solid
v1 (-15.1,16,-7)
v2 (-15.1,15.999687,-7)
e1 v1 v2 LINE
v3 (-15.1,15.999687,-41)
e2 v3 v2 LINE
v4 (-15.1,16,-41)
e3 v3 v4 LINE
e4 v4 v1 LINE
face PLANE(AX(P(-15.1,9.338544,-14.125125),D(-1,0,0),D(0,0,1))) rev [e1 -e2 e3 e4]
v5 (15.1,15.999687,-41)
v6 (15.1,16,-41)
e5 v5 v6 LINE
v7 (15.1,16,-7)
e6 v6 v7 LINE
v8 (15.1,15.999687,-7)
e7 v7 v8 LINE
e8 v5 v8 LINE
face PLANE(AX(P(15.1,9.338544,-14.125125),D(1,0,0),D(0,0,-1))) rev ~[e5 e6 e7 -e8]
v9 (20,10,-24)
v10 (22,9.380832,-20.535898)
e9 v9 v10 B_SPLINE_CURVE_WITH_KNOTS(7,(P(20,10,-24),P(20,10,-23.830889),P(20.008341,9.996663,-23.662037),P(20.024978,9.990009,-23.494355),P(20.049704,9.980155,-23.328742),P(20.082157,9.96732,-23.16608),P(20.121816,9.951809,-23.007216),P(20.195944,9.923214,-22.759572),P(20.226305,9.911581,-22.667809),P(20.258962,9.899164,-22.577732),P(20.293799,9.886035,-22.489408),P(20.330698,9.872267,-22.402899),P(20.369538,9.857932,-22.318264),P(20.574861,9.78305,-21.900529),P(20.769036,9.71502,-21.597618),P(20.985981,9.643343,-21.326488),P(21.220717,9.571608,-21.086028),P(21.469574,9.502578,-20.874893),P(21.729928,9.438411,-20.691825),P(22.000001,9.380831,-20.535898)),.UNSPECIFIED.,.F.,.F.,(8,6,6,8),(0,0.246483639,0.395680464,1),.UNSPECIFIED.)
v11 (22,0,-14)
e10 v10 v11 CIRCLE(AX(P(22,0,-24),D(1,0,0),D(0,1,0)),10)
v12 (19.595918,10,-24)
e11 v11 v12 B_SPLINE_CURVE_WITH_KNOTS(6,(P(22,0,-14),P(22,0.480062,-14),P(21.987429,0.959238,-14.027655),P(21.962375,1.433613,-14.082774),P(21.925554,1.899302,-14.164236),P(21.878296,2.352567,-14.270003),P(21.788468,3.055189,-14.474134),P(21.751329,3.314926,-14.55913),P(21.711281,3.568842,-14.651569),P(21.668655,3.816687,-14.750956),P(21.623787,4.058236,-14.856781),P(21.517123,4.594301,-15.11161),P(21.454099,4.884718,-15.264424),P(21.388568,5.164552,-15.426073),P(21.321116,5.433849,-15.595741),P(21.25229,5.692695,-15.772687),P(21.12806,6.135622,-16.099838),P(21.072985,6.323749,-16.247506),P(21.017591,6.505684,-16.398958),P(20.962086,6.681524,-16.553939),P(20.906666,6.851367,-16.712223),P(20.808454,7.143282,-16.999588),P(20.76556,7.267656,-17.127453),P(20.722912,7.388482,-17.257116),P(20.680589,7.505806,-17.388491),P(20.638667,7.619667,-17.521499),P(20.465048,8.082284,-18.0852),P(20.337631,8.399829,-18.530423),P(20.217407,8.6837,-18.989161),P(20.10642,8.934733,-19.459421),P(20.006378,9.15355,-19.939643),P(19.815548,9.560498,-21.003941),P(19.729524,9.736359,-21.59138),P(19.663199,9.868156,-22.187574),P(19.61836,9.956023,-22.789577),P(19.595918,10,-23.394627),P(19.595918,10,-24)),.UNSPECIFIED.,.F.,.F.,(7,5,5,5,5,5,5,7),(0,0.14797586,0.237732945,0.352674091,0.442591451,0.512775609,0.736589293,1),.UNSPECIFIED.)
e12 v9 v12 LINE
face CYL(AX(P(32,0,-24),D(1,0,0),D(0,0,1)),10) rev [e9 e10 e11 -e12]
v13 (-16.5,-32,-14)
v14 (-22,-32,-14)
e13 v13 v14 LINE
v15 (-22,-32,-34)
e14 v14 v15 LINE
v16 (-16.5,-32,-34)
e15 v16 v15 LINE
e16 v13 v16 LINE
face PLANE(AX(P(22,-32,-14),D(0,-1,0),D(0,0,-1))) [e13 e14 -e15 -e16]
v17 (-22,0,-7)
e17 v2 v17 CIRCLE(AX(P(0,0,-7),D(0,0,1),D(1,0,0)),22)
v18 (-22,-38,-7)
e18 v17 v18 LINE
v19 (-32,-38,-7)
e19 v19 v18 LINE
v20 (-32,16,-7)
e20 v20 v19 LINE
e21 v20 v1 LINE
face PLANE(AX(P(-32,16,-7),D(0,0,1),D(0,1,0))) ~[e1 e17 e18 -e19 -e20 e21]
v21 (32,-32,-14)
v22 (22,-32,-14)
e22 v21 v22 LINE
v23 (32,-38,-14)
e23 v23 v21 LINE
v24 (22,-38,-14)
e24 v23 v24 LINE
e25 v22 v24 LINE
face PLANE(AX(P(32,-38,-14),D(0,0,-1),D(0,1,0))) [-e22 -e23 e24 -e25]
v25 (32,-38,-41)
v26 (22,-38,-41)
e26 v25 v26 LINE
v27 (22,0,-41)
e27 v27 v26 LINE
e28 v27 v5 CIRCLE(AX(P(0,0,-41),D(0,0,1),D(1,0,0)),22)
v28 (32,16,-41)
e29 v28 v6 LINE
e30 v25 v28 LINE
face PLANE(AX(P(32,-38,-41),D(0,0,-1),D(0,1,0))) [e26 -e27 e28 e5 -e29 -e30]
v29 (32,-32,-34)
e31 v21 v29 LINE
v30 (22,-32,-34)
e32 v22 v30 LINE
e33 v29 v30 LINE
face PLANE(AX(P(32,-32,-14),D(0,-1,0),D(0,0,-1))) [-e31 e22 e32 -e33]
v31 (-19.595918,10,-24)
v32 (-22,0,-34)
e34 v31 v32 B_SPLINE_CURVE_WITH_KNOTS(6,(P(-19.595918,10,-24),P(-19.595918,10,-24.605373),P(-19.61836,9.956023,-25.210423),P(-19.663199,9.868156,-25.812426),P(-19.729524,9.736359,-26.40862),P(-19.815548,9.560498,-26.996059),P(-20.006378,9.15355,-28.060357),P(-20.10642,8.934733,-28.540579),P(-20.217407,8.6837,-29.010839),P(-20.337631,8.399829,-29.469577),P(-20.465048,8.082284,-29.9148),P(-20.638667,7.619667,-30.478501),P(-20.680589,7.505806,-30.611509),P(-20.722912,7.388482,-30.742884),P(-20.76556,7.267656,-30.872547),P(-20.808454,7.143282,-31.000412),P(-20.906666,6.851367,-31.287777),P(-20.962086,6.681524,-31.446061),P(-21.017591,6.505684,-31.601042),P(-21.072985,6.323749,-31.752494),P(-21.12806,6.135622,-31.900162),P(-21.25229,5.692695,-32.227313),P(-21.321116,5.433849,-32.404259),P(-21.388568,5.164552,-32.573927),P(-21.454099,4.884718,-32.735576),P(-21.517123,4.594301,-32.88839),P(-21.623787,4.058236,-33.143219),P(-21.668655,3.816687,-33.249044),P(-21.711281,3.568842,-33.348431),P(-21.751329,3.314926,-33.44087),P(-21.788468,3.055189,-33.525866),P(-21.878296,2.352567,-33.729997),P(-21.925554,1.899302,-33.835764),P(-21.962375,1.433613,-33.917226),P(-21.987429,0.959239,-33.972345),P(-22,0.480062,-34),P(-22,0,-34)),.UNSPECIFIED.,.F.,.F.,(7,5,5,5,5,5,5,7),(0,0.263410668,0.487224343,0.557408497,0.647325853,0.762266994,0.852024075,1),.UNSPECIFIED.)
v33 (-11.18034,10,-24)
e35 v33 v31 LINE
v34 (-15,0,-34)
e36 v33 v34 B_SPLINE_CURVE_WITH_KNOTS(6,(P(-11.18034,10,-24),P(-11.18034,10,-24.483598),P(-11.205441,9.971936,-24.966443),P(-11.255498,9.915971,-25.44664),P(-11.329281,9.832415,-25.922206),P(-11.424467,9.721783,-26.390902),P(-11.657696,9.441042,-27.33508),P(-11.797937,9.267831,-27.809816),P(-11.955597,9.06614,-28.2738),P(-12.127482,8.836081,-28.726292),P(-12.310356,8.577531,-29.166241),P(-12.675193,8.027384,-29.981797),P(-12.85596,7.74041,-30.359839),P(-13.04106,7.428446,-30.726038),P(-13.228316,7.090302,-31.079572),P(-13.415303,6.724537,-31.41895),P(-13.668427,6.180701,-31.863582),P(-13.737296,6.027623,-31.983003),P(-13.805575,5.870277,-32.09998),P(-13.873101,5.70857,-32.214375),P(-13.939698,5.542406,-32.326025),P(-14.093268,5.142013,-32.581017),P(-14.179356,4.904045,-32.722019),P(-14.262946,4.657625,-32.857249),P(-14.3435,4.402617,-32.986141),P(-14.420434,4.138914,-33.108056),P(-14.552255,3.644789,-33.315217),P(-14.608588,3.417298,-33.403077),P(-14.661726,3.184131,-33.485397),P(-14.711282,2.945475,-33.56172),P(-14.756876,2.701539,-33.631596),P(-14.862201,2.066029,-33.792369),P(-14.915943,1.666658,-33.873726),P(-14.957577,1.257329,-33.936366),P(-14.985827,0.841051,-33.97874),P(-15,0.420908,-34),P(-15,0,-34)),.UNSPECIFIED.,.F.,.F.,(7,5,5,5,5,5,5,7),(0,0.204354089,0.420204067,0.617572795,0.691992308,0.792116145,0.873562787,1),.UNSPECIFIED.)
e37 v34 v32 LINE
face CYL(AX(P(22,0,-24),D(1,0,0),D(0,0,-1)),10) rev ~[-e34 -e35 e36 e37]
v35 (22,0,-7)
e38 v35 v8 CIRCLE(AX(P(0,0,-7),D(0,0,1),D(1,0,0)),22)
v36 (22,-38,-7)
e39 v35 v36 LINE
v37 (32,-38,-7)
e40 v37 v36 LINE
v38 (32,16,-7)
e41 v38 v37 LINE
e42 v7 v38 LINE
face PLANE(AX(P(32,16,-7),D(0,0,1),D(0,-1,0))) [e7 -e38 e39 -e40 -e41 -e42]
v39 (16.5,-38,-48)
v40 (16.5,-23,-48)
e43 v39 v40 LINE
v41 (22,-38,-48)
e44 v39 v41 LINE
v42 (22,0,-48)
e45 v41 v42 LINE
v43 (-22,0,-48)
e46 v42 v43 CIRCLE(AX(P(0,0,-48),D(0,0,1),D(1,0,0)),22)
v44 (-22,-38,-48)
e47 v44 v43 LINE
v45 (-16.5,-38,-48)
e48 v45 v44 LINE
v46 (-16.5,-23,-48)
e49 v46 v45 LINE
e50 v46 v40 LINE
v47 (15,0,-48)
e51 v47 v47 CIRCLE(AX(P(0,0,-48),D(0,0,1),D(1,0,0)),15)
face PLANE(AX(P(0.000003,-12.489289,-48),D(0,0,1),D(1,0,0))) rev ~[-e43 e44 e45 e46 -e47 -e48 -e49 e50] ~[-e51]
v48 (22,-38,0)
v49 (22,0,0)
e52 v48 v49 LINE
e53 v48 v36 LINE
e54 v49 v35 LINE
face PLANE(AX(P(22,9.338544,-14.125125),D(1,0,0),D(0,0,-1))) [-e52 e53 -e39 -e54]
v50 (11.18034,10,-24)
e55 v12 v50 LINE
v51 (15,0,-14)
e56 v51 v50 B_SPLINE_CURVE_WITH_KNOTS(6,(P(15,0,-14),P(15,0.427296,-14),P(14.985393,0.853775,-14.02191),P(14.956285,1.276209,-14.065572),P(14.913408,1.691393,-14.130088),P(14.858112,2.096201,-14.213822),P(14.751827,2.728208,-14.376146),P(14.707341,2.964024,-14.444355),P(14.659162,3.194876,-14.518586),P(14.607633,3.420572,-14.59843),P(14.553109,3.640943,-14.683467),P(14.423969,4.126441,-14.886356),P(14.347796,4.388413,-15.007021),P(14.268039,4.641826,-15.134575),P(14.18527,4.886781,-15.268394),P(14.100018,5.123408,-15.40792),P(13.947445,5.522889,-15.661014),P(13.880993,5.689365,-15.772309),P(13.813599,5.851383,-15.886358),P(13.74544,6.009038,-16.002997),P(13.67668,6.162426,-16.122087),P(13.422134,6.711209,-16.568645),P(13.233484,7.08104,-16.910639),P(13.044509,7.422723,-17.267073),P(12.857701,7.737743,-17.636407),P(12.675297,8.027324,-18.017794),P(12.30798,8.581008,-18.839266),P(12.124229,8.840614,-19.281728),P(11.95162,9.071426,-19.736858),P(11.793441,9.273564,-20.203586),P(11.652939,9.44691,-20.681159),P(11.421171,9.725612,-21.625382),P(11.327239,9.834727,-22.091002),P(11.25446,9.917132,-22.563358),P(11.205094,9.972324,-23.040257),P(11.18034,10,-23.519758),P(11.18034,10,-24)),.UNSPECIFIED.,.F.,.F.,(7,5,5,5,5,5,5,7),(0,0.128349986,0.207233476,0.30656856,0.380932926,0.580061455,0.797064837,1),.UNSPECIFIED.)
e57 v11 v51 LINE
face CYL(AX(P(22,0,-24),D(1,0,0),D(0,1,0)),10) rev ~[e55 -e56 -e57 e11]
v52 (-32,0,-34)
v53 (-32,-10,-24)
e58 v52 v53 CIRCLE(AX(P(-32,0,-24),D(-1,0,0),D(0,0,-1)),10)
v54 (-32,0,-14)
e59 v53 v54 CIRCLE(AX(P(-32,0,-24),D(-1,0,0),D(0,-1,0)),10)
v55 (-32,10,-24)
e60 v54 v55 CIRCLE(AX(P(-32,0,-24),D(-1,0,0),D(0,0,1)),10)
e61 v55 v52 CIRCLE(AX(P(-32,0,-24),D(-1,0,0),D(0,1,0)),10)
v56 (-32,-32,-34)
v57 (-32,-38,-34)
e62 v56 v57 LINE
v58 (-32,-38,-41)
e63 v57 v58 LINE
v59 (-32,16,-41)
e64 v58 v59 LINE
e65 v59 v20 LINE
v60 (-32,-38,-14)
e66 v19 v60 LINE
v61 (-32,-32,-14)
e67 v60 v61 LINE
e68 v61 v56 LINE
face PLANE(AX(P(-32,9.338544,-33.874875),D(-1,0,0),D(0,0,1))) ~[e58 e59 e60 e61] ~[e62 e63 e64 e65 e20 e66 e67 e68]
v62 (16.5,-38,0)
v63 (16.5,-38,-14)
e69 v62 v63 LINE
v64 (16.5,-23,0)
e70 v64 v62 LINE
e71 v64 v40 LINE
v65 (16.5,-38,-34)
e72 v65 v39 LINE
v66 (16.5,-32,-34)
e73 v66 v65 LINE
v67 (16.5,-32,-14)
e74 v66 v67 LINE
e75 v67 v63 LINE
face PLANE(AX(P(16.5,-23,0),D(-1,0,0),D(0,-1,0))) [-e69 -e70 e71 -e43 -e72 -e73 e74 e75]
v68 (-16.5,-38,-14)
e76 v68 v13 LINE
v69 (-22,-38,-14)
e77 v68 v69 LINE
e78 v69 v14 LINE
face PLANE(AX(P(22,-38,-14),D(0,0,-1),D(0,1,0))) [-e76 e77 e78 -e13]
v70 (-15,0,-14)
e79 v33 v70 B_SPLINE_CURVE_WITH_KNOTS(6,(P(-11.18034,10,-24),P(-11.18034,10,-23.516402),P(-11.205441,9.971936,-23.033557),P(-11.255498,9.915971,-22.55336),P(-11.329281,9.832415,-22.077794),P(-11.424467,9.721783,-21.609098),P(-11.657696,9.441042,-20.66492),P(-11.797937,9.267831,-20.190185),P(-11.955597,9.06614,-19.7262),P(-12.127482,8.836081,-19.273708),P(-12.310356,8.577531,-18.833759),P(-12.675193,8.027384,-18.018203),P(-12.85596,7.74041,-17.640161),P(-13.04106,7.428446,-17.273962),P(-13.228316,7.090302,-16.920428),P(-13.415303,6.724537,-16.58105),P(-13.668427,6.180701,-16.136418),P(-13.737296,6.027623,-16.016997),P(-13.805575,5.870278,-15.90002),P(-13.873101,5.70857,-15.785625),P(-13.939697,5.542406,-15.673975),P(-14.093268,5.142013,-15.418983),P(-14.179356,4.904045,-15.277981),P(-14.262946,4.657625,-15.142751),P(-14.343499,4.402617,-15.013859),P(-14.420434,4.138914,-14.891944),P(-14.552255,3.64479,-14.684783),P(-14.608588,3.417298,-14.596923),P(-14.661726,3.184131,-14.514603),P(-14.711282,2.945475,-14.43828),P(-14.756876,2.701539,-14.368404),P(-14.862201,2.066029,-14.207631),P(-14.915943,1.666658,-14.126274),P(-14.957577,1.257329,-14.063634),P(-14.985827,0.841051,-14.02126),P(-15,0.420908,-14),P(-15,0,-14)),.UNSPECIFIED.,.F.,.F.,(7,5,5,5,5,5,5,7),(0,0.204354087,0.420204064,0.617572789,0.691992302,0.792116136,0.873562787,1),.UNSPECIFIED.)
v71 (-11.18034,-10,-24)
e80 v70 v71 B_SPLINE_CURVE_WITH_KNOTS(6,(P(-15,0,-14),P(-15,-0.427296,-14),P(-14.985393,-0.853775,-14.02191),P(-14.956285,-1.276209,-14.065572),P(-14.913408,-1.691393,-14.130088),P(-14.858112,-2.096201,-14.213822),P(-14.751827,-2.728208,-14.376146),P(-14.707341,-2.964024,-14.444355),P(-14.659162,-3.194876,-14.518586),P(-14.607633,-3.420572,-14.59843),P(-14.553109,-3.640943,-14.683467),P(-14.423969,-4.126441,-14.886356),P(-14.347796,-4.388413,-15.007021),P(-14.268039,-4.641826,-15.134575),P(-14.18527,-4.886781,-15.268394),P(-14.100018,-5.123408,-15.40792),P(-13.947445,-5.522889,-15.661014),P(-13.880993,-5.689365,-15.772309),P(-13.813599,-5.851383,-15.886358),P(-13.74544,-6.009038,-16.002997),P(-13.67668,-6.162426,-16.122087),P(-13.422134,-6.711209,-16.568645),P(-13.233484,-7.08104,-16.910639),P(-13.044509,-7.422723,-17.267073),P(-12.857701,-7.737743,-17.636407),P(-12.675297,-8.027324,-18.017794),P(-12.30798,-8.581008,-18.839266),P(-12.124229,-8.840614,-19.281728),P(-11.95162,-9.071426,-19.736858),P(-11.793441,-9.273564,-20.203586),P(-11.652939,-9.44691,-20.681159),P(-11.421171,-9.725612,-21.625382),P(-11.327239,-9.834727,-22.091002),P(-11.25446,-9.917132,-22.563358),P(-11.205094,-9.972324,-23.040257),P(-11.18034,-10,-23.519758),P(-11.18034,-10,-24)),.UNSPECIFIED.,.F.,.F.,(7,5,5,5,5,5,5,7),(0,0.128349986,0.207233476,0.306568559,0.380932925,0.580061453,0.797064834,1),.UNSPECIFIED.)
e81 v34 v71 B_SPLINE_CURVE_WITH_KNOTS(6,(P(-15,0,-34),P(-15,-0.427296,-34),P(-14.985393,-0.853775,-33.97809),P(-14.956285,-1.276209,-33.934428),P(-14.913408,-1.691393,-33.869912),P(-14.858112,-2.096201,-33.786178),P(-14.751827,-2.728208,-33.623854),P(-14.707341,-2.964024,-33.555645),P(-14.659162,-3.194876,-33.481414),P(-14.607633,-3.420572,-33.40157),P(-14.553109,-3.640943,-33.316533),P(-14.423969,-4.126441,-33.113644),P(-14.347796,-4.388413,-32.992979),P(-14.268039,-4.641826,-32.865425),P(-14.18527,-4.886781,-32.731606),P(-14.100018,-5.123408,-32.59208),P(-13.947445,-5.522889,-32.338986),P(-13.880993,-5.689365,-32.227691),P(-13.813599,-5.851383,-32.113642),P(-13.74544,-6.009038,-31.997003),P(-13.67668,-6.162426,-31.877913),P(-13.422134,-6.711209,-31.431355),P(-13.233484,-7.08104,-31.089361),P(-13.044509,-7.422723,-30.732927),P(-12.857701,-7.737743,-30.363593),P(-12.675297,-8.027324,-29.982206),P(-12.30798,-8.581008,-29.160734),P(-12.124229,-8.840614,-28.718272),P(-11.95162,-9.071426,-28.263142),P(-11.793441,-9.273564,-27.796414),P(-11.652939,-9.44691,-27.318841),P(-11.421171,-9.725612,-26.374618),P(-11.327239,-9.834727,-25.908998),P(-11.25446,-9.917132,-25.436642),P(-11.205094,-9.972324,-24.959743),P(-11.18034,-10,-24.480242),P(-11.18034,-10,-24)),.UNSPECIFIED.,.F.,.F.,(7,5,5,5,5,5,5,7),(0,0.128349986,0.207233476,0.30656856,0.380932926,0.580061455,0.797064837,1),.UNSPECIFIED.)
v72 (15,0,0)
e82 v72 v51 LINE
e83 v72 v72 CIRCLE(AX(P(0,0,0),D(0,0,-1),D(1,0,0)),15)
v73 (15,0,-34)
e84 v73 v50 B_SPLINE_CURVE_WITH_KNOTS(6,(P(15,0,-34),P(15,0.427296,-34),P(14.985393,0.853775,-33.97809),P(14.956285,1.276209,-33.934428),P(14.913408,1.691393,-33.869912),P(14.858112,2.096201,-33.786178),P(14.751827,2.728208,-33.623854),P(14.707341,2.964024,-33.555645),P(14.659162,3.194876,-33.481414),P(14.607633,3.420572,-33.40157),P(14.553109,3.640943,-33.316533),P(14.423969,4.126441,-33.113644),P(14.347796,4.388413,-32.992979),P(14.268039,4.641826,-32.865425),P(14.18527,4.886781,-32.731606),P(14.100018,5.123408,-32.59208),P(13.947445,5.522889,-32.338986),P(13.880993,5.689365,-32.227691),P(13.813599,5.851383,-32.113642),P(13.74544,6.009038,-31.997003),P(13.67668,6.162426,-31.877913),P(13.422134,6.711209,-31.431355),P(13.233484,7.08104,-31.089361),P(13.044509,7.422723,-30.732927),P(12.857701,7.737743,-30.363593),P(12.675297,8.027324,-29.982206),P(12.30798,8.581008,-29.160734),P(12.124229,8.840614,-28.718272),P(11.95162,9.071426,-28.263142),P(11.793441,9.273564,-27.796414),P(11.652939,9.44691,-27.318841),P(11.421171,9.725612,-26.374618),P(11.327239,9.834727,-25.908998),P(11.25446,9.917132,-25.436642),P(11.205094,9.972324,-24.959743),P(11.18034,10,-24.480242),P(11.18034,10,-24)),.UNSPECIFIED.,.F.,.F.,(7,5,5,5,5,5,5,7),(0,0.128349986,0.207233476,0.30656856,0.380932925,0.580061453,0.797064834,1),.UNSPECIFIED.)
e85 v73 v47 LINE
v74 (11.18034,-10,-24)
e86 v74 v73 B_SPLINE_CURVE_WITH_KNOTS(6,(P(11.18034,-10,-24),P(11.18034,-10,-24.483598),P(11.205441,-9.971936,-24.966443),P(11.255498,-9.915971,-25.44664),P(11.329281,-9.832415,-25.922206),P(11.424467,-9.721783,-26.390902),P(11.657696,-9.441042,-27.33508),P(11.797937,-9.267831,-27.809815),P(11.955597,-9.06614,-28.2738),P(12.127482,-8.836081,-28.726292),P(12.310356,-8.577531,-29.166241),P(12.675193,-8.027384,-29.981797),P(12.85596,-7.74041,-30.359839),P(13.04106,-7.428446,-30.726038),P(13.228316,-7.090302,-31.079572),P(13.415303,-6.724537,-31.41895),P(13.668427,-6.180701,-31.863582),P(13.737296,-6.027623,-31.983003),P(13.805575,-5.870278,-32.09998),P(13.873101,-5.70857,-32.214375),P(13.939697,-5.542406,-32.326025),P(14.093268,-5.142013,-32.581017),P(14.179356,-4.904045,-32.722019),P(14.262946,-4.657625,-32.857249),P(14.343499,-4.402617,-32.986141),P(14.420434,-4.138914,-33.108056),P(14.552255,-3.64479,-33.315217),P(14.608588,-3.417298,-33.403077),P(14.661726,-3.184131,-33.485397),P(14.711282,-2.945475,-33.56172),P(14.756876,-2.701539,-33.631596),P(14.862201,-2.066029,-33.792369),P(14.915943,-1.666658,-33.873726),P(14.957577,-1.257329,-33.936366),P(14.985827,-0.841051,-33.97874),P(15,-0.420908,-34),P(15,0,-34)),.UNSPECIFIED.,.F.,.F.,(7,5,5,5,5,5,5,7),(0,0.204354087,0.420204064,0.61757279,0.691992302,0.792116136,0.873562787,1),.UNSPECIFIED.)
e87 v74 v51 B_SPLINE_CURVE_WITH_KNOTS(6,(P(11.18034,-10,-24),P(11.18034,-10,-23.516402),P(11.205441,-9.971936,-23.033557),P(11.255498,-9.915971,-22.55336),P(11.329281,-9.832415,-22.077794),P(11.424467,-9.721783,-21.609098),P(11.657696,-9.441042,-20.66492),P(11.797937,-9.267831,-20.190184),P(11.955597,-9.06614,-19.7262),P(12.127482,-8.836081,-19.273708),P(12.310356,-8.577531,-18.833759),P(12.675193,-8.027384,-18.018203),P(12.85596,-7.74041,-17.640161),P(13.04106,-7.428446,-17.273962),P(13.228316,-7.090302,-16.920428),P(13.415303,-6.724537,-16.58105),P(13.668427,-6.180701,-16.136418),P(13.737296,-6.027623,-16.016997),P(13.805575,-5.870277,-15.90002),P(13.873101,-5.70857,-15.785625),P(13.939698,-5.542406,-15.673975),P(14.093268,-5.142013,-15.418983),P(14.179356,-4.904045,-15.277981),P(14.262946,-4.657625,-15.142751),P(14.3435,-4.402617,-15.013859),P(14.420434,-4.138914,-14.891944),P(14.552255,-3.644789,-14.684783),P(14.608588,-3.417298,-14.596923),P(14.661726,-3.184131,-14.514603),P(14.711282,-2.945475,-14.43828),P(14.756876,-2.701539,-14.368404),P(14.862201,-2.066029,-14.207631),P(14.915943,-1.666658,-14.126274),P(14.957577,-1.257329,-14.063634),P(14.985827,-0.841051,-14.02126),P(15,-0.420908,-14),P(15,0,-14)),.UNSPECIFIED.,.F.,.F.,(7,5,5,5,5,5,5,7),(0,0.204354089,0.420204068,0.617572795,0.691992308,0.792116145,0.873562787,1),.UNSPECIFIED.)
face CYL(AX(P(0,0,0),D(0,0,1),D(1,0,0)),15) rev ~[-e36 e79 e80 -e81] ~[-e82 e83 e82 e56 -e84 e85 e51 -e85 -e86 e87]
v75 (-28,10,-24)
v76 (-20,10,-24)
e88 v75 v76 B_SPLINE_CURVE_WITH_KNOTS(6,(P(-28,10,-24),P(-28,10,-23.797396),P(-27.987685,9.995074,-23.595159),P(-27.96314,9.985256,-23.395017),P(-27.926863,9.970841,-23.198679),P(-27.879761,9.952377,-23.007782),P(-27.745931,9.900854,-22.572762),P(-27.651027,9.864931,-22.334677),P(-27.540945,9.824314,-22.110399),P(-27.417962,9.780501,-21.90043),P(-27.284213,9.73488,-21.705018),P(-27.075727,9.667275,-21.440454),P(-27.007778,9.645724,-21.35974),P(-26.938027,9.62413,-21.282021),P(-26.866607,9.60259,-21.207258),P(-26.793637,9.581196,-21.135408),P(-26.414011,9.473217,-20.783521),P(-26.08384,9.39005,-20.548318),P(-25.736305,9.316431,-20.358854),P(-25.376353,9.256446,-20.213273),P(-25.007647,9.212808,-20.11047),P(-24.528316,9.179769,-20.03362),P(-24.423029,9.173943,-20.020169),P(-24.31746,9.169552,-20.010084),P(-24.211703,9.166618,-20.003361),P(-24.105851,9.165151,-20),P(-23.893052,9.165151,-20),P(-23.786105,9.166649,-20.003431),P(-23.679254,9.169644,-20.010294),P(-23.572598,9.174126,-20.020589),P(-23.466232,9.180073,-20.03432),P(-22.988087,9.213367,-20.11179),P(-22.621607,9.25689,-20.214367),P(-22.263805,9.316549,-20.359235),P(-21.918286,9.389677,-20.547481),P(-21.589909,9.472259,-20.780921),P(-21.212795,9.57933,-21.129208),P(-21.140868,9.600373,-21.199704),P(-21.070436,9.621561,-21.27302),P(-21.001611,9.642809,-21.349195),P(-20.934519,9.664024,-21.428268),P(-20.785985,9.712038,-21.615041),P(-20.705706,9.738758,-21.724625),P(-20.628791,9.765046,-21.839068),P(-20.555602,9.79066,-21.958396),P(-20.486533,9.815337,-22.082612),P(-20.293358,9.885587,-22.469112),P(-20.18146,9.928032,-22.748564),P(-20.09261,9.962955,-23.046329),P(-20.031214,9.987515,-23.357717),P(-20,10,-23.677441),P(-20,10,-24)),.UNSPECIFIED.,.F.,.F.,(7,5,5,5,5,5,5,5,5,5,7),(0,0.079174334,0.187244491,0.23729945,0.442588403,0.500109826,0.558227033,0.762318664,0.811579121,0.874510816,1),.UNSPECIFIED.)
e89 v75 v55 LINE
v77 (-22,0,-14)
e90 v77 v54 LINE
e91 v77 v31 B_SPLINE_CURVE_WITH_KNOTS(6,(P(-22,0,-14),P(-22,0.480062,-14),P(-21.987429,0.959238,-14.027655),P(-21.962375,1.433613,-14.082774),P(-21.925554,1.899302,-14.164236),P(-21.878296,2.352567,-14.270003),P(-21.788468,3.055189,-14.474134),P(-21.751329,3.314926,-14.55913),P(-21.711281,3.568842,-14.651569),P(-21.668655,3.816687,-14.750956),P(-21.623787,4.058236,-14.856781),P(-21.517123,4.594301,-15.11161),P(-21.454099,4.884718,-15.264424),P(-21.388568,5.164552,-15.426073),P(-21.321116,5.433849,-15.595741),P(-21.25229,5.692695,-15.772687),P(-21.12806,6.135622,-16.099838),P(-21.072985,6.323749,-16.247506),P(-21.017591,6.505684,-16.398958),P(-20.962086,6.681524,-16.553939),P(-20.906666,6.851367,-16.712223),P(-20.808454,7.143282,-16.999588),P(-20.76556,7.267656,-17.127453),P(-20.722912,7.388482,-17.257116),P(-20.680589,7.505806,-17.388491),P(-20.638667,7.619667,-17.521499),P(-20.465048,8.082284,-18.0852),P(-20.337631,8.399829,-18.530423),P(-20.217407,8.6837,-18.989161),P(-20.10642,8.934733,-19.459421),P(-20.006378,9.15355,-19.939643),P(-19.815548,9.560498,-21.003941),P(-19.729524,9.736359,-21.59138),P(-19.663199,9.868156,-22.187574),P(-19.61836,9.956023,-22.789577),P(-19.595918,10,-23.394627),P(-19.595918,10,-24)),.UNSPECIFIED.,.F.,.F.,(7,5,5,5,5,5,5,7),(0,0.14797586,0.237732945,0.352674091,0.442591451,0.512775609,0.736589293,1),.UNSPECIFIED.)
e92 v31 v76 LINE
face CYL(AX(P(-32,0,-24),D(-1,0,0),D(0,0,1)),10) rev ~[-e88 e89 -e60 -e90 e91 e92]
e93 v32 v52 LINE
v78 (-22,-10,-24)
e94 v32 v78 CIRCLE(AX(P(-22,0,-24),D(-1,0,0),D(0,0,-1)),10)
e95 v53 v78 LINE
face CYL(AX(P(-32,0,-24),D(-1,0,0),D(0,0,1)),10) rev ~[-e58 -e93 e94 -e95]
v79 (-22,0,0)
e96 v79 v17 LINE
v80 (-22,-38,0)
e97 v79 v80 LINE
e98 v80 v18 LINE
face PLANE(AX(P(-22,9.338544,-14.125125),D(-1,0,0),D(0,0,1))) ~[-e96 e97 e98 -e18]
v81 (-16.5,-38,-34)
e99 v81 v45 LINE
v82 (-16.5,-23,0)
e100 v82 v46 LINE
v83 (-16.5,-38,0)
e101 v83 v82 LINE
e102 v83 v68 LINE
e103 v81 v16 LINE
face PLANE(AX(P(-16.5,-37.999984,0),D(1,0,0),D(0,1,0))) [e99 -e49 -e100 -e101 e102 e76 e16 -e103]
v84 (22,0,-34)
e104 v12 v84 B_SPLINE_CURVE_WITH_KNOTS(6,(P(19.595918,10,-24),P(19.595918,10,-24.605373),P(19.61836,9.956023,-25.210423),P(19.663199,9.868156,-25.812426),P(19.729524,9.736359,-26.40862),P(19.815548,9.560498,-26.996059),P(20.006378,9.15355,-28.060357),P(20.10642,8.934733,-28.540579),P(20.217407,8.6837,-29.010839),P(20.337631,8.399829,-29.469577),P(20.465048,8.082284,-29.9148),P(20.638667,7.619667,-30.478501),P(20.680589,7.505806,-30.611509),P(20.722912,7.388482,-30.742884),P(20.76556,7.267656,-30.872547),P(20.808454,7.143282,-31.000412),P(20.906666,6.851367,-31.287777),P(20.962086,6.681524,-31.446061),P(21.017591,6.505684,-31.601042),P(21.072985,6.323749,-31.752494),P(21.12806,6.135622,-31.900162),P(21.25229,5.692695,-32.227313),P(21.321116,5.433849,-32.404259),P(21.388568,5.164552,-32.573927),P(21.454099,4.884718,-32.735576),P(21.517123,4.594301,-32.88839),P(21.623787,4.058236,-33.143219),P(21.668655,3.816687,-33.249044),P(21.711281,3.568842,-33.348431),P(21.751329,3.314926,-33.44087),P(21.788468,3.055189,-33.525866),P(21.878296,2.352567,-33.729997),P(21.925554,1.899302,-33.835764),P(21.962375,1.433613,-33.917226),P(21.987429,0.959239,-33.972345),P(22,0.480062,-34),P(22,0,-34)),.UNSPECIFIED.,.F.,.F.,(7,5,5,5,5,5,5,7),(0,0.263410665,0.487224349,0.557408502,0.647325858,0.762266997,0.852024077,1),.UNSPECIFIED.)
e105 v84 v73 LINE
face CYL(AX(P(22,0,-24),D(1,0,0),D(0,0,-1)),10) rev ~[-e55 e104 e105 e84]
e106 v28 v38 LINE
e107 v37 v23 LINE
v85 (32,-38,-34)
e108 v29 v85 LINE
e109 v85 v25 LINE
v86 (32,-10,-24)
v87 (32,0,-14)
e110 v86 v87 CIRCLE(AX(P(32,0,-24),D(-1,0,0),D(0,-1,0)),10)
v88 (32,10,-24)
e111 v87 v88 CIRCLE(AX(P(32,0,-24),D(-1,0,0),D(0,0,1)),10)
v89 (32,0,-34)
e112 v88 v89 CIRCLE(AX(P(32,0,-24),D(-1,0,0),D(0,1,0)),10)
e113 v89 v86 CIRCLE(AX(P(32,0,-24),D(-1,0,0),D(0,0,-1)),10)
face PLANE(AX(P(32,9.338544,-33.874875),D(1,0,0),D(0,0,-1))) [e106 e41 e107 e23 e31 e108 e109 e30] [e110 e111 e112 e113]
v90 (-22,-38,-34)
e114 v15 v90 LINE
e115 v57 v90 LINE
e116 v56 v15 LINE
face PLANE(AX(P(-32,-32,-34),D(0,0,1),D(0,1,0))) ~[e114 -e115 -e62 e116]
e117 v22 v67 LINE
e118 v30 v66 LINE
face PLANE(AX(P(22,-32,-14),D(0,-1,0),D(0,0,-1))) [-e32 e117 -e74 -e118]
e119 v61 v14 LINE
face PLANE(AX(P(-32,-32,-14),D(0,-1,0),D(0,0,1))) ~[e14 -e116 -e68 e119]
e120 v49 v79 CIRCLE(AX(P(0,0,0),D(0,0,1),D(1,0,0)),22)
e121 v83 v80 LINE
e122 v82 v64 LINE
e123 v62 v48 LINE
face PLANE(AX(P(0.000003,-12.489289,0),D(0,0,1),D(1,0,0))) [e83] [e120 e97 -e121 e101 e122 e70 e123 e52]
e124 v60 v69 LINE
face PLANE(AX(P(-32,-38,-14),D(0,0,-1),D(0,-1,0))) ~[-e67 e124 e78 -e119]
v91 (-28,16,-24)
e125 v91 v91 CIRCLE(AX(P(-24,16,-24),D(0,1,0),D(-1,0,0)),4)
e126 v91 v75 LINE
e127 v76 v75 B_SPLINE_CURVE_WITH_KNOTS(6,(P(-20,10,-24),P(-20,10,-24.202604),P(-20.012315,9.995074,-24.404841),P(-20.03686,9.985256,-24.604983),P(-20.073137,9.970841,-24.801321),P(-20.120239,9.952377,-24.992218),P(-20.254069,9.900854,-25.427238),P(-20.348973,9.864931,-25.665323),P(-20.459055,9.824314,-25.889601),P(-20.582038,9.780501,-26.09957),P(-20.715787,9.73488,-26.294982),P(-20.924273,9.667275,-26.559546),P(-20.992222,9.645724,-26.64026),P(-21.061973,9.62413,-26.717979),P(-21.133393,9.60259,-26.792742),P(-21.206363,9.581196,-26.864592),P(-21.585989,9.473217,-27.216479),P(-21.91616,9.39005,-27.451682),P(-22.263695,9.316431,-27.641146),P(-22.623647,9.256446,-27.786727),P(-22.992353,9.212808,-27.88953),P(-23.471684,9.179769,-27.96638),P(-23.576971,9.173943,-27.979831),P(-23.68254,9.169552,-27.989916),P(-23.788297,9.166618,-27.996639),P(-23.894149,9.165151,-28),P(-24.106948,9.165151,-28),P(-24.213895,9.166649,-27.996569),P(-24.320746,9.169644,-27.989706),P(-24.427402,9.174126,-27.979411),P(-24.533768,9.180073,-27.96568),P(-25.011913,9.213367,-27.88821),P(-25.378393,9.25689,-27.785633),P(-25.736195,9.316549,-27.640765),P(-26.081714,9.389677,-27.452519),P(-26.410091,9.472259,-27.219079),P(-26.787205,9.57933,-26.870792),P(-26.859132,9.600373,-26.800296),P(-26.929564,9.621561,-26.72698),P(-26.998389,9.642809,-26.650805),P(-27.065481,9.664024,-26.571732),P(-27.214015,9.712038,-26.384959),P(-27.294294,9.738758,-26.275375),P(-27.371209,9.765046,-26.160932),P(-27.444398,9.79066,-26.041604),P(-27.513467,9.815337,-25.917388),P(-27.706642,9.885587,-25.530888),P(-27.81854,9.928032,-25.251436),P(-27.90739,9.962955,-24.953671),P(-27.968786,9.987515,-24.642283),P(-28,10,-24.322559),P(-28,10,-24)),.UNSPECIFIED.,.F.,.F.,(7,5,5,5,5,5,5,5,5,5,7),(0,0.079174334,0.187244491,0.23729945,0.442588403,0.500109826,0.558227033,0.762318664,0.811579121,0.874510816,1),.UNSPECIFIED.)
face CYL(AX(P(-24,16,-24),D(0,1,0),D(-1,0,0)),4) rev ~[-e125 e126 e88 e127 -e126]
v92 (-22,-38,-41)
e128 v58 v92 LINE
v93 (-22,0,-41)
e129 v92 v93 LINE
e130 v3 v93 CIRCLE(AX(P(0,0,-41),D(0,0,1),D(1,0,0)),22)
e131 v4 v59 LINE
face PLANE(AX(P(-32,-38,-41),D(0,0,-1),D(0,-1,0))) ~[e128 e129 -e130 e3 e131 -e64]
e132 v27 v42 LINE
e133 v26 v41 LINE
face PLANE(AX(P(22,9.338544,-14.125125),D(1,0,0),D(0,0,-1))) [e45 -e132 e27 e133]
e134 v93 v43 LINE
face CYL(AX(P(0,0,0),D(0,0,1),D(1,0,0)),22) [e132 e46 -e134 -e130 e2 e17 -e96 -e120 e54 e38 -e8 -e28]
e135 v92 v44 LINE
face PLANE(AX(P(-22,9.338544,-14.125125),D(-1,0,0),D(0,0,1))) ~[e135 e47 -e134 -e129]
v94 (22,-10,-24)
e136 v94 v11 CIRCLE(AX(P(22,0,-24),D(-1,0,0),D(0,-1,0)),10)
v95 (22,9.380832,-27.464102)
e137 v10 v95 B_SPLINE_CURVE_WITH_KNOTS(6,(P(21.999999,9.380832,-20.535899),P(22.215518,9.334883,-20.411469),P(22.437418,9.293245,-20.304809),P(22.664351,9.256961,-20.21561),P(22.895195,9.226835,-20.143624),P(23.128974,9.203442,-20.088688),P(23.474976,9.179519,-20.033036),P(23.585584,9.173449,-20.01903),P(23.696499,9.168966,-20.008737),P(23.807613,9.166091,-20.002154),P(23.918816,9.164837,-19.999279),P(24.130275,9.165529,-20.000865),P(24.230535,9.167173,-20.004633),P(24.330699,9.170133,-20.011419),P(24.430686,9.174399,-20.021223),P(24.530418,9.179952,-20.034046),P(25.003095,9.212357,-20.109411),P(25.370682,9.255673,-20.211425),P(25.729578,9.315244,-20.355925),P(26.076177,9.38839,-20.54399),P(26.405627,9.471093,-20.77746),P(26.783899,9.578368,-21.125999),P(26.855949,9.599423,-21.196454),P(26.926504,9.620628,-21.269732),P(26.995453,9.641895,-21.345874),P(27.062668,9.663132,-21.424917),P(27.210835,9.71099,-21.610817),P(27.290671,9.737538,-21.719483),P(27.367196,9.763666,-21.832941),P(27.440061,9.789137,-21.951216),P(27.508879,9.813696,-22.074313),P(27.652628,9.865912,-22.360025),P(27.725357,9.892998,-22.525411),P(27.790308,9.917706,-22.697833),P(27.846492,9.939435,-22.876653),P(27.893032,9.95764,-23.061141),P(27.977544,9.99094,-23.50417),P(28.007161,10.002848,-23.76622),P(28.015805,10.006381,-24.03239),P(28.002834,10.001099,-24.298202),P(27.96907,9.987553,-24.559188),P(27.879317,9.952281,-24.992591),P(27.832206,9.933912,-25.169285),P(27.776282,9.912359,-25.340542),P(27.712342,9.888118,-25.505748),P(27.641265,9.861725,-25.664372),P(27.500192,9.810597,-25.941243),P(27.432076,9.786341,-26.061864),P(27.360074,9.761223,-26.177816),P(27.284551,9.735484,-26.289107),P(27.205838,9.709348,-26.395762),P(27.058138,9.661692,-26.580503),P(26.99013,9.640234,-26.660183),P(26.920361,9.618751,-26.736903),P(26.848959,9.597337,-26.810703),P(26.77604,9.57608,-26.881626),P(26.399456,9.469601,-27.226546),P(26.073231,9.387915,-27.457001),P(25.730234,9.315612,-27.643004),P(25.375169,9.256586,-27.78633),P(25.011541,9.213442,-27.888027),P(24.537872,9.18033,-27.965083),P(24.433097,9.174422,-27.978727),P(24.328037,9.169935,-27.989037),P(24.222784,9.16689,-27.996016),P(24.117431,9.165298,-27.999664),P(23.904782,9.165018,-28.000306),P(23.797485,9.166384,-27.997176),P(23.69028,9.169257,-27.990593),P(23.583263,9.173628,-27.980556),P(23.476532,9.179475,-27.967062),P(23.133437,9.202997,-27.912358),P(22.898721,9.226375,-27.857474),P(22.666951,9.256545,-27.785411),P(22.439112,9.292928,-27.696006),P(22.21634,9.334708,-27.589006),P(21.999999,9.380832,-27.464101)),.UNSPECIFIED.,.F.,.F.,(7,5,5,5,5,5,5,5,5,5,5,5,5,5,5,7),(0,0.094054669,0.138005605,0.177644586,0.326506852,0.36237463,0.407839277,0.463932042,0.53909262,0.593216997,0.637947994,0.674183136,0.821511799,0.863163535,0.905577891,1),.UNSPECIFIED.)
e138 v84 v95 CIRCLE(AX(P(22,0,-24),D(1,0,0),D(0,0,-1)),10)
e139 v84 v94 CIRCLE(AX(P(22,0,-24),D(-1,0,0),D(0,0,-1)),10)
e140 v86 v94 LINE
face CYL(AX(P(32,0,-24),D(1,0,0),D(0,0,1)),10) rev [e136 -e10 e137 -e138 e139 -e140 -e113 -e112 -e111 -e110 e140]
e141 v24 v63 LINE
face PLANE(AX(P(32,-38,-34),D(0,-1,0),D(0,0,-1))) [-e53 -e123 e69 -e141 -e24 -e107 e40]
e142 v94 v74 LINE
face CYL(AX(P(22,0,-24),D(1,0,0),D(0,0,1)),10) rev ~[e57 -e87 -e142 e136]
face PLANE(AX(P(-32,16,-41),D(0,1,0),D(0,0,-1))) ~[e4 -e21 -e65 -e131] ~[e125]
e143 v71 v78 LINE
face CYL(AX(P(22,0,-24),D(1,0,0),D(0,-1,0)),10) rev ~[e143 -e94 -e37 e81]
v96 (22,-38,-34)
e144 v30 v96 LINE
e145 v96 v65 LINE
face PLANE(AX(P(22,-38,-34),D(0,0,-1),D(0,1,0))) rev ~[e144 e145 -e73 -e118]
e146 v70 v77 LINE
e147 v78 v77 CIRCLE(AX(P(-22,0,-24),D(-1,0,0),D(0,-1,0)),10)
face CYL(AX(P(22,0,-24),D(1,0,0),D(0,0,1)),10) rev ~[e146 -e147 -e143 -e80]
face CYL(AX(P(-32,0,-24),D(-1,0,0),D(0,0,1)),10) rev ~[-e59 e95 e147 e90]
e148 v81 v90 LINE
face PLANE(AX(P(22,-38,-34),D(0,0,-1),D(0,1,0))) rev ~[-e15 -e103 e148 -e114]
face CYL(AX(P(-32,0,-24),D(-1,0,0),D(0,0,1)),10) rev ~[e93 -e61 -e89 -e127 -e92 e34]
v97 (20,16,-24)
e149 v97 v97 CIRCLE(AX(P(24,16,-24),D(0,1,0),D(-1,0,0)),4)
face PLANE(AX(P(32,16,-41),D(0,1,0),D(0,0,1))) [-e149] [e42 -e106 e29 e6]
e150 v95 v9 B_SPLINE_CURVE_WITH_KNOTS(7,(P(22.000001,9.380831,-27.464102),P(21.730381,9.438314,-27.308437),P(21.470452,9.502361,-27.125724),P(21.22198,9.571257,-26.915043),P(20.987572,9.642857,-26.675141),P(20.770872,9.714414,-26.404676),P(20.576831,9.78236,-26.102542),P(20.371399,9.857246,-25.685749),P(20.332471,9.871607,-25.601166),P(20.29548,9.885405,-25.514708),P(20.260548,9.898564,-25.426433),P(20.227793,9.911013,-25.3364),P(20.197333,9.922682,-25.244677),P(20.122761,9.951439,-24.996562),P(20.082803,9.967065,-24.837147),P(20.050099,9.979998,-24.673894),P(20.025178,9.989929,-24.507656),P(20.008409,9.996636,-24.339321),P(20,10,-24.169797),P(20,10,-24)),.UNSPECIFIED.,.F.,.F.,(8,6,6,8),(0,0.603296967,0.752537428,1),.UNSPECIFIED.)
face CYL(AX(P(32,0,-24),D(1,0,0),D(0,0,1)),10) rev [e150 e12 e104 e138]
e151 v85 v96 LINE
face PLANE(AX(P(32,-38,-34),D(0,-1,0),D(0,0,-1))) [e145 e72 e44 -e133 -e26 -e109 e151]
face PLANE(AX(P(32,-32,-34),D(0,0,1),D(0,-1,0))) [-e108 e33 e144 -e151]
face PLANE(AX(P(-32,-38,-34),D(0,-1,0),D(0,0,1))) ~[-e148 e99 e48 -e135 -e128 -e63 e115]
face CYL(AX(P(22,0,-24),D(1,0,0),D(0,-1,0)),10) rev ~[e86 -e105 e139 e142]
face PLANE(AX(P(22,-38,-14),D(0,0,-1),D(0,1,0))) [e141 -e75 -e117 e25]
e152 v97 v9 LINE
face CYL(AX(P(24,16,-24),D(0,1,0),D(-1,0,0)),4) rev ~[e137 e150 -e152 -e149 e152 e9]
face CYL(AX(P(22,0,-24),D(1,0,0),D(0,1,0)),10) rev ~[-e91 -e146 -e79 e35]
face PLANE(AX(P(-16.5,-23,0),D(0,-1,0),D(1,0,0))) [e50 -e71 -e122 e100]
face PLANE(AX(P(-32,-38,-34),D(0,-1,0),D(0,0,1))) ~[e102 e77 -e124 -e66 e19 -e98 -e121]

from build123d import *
from build123d.topology import SkipClean

# Parameters (mm, degrees)
SKETCH1_R           = 15
BOSS_EXTRUDE1_DEPTH = 48
BOSS_EXTRUDE3_DEPTH = 6.9
BOSS_EXTRUDE4_START = 10
BOSS_EXTRUDE4_DEPTH = 10
SKETCH2_5_W         = 20
SKETCH2_5_H         = 6
CUT_EXTRUDE1_DEPTH  = 82.633326528
SKETCH3_R           = 4
CUT_EXTRUDE2_DEPTH  = 10


with BuildPart() as part:
    # Sketch1 → Boss-Extrude1 (new body)
    with BuildSketch(Plane.XY):
        with BuildLine():
            Line((-22, 0), (-22, -37.999983616))
            Line((-22, -37.999983616), (-16.5, -37.999983616))
            Line((-16.5, -37.999983616), (-16.5, -23))
            Line((-16.5, -23), (16.5, -23))
            Line((16.5, -23), (16.5, -38))
            Line((16.5, -38), (22, -38))
            Line((22, -38), (22, 0))
            ThreePointArc((22, 0), (0, 22), (-22, 0))
        make_face()
        Circle(SKETCH1_R, mode=Mode.SUBTRACT)
    boss_extrude1 = extrude(amount=-BOSS_EXTRUDE1_DEPTH)

    # Sketch2 → Boss-Extrude3 (add)
    with BuildSketch(Plane(origin=(22, 0, 0), x_dir=(0, 0, -1), z_dir=(1, 0, 0))):
        with BuildLine():
            Line((7, 16), (7, 0))
            Line((7, 0), (14, 0))
            ThreePointArc((14, 0), (16.928932188, 7.071067812), (24, 10))
            Line((24, 10), (24, 16))
            Line((24, 16), (7, 16))
        make_face()
        with BuildLine():
            Line((41, 16), (24, 16))
            Line((24, 16), (24, 10))
            ThreePointArc((24, 10), (31.071067812, 7.071067812), (34, 0))
            Line((34, 0), (41, 0))
            Line((41, 0), (41, 16))
        make_face()
    boss_extrude3 = extrude(amount=-BOSS_EXTRUDE3_DEPTH)

    # Sketch2<4> → Boss-Extrude4 (add)
    with BuildSketch(Plane(origin=(22, 0, 0), x_dir=(0, 0, -1), z_dir=(1, 0, 0)).offset(BOSS_EXTRUDE4_START)):
        with BuildLine():
            Line((41, 16), (24, 16))
            Line((24, 16), (24, 10))
            ThreePointArc((24, 10), (31.071067812, 7.071067812), (34, 0))
            Line((34, 0), (41, 0))
            Line((41, 0), (41, 16))
        make_face()
        with BuildLine():
            Line((7, 16), (7, 0))
            Line((7, 0), (14, 0))
            ThreePointArc((14, 0), (16.928932188, 7.071067812), (24, 10))
            Line((24, 10), (24, 16))
            Line((24, 16), (7, 16))
        make_face()
        with BuildLine():
            Line((7, 0), (7, -38))
            Line((7, -38), (14, -38))
            Line((14, -38), (14, -32))
            Line((14, -32), (24, -32))
            Line((24, -32), (24, -10))
            ThreePointArc((24, -10), (16.928932188, -7.071067812), (14, 0))
            Line((14, 0), (7, 0))
        make_face()
        with BuildLine():
            Line((34, -32), (34, -38))
            Line((34, -38), (41, -38))
            Line((41, -38), (41, 0))
            Line((41, 0), (34, 0))
            ThreePointArc((34, 0), (31.071067812, -7.071067812), (24, -10))
            Line((24, -10), (24, -32))
            Line((24, -32), (34, -32))
        make_face()
    boss_extrude4 = extrude(amount=-BOSS_EXTRUDE4_DEPTH)

    # Mirror2: Boss-Extrude1, Boss-Extrude3, Boss-Extrude4 across plane
    add(boss_extrude1.mirror(Plane.ZY))
    add(boss_extrude3.mirror(Plane.ZY))
    add(boss_extrude4.mirror(Plane.ZY))

    # Sketch2<5> → Cut-Extrude1 (cut, through all)
    with SkipClean():  # the faces are left unmerged after this step: merging them gives an invalid solid
        with BuildSketch(Plane(origin=(22, 0, 0), x_dir=(0, 0, -1), z_dir=(1, 0, 0))):
            with BuildLine():
                Line((24, 0), (14, 0))
                ThreePointArc((14, 0), (16.928932188, -7.071067812), (24, -10))
                Line((24, -10), (24, 0))
            make_face()
            with BuildLine():
                ThreePointArc((24, 10), (16.928932188, 7.071067812), (14, 0))
                Line((14, 0), (24, 0))
                Line((24, 0), (24, 10))
            make_face()
            with BuildLine():
                ThreePointArc((34, 0), (31.071067812, 7.071067812), (24, 10))
                Line((24, 10), (24, 0))
                Line((24, 0), (34, 0))
            make_face()
            with BuildLine():
                Line((24, 0), (24, -10))
                ThreePointArc((24, -10), (31.071067812, -7.071067812), (34, 0))
                Line((34, 0), (24, 0))
            make_face()
            with Locations((24, -35)):
                Rectangle(SKETCH2_5_W, SKETCH2_5_H)
        extrude(amount=-CUT_EXTRUDE1_DEPTH, mode=Mode.SUBTRACT)

    # Sketch3 → Cut-Extrude2 (cut)
    with SkipClean():  # the faces are left unmerged after this step: merging them gives an invalid solid
        with BuildSketch(Plane(origin=(0, 16, 0), x_dir=(1, 0, 0), z_dir=(0, 1, 0))):
            with Locations(Location((24, 24, 0), (0, 0, 180))):
                Circle(SKETCH3_R)
            with Locations(Location((-24, 24, 0), (0, 0, 180))):
                Circle(SKETCH3_R)
        extrude(amount=-CUT_EXTRUDE2_DEPTH, mode=Mode.SUBTRACT)


solid = part.part
